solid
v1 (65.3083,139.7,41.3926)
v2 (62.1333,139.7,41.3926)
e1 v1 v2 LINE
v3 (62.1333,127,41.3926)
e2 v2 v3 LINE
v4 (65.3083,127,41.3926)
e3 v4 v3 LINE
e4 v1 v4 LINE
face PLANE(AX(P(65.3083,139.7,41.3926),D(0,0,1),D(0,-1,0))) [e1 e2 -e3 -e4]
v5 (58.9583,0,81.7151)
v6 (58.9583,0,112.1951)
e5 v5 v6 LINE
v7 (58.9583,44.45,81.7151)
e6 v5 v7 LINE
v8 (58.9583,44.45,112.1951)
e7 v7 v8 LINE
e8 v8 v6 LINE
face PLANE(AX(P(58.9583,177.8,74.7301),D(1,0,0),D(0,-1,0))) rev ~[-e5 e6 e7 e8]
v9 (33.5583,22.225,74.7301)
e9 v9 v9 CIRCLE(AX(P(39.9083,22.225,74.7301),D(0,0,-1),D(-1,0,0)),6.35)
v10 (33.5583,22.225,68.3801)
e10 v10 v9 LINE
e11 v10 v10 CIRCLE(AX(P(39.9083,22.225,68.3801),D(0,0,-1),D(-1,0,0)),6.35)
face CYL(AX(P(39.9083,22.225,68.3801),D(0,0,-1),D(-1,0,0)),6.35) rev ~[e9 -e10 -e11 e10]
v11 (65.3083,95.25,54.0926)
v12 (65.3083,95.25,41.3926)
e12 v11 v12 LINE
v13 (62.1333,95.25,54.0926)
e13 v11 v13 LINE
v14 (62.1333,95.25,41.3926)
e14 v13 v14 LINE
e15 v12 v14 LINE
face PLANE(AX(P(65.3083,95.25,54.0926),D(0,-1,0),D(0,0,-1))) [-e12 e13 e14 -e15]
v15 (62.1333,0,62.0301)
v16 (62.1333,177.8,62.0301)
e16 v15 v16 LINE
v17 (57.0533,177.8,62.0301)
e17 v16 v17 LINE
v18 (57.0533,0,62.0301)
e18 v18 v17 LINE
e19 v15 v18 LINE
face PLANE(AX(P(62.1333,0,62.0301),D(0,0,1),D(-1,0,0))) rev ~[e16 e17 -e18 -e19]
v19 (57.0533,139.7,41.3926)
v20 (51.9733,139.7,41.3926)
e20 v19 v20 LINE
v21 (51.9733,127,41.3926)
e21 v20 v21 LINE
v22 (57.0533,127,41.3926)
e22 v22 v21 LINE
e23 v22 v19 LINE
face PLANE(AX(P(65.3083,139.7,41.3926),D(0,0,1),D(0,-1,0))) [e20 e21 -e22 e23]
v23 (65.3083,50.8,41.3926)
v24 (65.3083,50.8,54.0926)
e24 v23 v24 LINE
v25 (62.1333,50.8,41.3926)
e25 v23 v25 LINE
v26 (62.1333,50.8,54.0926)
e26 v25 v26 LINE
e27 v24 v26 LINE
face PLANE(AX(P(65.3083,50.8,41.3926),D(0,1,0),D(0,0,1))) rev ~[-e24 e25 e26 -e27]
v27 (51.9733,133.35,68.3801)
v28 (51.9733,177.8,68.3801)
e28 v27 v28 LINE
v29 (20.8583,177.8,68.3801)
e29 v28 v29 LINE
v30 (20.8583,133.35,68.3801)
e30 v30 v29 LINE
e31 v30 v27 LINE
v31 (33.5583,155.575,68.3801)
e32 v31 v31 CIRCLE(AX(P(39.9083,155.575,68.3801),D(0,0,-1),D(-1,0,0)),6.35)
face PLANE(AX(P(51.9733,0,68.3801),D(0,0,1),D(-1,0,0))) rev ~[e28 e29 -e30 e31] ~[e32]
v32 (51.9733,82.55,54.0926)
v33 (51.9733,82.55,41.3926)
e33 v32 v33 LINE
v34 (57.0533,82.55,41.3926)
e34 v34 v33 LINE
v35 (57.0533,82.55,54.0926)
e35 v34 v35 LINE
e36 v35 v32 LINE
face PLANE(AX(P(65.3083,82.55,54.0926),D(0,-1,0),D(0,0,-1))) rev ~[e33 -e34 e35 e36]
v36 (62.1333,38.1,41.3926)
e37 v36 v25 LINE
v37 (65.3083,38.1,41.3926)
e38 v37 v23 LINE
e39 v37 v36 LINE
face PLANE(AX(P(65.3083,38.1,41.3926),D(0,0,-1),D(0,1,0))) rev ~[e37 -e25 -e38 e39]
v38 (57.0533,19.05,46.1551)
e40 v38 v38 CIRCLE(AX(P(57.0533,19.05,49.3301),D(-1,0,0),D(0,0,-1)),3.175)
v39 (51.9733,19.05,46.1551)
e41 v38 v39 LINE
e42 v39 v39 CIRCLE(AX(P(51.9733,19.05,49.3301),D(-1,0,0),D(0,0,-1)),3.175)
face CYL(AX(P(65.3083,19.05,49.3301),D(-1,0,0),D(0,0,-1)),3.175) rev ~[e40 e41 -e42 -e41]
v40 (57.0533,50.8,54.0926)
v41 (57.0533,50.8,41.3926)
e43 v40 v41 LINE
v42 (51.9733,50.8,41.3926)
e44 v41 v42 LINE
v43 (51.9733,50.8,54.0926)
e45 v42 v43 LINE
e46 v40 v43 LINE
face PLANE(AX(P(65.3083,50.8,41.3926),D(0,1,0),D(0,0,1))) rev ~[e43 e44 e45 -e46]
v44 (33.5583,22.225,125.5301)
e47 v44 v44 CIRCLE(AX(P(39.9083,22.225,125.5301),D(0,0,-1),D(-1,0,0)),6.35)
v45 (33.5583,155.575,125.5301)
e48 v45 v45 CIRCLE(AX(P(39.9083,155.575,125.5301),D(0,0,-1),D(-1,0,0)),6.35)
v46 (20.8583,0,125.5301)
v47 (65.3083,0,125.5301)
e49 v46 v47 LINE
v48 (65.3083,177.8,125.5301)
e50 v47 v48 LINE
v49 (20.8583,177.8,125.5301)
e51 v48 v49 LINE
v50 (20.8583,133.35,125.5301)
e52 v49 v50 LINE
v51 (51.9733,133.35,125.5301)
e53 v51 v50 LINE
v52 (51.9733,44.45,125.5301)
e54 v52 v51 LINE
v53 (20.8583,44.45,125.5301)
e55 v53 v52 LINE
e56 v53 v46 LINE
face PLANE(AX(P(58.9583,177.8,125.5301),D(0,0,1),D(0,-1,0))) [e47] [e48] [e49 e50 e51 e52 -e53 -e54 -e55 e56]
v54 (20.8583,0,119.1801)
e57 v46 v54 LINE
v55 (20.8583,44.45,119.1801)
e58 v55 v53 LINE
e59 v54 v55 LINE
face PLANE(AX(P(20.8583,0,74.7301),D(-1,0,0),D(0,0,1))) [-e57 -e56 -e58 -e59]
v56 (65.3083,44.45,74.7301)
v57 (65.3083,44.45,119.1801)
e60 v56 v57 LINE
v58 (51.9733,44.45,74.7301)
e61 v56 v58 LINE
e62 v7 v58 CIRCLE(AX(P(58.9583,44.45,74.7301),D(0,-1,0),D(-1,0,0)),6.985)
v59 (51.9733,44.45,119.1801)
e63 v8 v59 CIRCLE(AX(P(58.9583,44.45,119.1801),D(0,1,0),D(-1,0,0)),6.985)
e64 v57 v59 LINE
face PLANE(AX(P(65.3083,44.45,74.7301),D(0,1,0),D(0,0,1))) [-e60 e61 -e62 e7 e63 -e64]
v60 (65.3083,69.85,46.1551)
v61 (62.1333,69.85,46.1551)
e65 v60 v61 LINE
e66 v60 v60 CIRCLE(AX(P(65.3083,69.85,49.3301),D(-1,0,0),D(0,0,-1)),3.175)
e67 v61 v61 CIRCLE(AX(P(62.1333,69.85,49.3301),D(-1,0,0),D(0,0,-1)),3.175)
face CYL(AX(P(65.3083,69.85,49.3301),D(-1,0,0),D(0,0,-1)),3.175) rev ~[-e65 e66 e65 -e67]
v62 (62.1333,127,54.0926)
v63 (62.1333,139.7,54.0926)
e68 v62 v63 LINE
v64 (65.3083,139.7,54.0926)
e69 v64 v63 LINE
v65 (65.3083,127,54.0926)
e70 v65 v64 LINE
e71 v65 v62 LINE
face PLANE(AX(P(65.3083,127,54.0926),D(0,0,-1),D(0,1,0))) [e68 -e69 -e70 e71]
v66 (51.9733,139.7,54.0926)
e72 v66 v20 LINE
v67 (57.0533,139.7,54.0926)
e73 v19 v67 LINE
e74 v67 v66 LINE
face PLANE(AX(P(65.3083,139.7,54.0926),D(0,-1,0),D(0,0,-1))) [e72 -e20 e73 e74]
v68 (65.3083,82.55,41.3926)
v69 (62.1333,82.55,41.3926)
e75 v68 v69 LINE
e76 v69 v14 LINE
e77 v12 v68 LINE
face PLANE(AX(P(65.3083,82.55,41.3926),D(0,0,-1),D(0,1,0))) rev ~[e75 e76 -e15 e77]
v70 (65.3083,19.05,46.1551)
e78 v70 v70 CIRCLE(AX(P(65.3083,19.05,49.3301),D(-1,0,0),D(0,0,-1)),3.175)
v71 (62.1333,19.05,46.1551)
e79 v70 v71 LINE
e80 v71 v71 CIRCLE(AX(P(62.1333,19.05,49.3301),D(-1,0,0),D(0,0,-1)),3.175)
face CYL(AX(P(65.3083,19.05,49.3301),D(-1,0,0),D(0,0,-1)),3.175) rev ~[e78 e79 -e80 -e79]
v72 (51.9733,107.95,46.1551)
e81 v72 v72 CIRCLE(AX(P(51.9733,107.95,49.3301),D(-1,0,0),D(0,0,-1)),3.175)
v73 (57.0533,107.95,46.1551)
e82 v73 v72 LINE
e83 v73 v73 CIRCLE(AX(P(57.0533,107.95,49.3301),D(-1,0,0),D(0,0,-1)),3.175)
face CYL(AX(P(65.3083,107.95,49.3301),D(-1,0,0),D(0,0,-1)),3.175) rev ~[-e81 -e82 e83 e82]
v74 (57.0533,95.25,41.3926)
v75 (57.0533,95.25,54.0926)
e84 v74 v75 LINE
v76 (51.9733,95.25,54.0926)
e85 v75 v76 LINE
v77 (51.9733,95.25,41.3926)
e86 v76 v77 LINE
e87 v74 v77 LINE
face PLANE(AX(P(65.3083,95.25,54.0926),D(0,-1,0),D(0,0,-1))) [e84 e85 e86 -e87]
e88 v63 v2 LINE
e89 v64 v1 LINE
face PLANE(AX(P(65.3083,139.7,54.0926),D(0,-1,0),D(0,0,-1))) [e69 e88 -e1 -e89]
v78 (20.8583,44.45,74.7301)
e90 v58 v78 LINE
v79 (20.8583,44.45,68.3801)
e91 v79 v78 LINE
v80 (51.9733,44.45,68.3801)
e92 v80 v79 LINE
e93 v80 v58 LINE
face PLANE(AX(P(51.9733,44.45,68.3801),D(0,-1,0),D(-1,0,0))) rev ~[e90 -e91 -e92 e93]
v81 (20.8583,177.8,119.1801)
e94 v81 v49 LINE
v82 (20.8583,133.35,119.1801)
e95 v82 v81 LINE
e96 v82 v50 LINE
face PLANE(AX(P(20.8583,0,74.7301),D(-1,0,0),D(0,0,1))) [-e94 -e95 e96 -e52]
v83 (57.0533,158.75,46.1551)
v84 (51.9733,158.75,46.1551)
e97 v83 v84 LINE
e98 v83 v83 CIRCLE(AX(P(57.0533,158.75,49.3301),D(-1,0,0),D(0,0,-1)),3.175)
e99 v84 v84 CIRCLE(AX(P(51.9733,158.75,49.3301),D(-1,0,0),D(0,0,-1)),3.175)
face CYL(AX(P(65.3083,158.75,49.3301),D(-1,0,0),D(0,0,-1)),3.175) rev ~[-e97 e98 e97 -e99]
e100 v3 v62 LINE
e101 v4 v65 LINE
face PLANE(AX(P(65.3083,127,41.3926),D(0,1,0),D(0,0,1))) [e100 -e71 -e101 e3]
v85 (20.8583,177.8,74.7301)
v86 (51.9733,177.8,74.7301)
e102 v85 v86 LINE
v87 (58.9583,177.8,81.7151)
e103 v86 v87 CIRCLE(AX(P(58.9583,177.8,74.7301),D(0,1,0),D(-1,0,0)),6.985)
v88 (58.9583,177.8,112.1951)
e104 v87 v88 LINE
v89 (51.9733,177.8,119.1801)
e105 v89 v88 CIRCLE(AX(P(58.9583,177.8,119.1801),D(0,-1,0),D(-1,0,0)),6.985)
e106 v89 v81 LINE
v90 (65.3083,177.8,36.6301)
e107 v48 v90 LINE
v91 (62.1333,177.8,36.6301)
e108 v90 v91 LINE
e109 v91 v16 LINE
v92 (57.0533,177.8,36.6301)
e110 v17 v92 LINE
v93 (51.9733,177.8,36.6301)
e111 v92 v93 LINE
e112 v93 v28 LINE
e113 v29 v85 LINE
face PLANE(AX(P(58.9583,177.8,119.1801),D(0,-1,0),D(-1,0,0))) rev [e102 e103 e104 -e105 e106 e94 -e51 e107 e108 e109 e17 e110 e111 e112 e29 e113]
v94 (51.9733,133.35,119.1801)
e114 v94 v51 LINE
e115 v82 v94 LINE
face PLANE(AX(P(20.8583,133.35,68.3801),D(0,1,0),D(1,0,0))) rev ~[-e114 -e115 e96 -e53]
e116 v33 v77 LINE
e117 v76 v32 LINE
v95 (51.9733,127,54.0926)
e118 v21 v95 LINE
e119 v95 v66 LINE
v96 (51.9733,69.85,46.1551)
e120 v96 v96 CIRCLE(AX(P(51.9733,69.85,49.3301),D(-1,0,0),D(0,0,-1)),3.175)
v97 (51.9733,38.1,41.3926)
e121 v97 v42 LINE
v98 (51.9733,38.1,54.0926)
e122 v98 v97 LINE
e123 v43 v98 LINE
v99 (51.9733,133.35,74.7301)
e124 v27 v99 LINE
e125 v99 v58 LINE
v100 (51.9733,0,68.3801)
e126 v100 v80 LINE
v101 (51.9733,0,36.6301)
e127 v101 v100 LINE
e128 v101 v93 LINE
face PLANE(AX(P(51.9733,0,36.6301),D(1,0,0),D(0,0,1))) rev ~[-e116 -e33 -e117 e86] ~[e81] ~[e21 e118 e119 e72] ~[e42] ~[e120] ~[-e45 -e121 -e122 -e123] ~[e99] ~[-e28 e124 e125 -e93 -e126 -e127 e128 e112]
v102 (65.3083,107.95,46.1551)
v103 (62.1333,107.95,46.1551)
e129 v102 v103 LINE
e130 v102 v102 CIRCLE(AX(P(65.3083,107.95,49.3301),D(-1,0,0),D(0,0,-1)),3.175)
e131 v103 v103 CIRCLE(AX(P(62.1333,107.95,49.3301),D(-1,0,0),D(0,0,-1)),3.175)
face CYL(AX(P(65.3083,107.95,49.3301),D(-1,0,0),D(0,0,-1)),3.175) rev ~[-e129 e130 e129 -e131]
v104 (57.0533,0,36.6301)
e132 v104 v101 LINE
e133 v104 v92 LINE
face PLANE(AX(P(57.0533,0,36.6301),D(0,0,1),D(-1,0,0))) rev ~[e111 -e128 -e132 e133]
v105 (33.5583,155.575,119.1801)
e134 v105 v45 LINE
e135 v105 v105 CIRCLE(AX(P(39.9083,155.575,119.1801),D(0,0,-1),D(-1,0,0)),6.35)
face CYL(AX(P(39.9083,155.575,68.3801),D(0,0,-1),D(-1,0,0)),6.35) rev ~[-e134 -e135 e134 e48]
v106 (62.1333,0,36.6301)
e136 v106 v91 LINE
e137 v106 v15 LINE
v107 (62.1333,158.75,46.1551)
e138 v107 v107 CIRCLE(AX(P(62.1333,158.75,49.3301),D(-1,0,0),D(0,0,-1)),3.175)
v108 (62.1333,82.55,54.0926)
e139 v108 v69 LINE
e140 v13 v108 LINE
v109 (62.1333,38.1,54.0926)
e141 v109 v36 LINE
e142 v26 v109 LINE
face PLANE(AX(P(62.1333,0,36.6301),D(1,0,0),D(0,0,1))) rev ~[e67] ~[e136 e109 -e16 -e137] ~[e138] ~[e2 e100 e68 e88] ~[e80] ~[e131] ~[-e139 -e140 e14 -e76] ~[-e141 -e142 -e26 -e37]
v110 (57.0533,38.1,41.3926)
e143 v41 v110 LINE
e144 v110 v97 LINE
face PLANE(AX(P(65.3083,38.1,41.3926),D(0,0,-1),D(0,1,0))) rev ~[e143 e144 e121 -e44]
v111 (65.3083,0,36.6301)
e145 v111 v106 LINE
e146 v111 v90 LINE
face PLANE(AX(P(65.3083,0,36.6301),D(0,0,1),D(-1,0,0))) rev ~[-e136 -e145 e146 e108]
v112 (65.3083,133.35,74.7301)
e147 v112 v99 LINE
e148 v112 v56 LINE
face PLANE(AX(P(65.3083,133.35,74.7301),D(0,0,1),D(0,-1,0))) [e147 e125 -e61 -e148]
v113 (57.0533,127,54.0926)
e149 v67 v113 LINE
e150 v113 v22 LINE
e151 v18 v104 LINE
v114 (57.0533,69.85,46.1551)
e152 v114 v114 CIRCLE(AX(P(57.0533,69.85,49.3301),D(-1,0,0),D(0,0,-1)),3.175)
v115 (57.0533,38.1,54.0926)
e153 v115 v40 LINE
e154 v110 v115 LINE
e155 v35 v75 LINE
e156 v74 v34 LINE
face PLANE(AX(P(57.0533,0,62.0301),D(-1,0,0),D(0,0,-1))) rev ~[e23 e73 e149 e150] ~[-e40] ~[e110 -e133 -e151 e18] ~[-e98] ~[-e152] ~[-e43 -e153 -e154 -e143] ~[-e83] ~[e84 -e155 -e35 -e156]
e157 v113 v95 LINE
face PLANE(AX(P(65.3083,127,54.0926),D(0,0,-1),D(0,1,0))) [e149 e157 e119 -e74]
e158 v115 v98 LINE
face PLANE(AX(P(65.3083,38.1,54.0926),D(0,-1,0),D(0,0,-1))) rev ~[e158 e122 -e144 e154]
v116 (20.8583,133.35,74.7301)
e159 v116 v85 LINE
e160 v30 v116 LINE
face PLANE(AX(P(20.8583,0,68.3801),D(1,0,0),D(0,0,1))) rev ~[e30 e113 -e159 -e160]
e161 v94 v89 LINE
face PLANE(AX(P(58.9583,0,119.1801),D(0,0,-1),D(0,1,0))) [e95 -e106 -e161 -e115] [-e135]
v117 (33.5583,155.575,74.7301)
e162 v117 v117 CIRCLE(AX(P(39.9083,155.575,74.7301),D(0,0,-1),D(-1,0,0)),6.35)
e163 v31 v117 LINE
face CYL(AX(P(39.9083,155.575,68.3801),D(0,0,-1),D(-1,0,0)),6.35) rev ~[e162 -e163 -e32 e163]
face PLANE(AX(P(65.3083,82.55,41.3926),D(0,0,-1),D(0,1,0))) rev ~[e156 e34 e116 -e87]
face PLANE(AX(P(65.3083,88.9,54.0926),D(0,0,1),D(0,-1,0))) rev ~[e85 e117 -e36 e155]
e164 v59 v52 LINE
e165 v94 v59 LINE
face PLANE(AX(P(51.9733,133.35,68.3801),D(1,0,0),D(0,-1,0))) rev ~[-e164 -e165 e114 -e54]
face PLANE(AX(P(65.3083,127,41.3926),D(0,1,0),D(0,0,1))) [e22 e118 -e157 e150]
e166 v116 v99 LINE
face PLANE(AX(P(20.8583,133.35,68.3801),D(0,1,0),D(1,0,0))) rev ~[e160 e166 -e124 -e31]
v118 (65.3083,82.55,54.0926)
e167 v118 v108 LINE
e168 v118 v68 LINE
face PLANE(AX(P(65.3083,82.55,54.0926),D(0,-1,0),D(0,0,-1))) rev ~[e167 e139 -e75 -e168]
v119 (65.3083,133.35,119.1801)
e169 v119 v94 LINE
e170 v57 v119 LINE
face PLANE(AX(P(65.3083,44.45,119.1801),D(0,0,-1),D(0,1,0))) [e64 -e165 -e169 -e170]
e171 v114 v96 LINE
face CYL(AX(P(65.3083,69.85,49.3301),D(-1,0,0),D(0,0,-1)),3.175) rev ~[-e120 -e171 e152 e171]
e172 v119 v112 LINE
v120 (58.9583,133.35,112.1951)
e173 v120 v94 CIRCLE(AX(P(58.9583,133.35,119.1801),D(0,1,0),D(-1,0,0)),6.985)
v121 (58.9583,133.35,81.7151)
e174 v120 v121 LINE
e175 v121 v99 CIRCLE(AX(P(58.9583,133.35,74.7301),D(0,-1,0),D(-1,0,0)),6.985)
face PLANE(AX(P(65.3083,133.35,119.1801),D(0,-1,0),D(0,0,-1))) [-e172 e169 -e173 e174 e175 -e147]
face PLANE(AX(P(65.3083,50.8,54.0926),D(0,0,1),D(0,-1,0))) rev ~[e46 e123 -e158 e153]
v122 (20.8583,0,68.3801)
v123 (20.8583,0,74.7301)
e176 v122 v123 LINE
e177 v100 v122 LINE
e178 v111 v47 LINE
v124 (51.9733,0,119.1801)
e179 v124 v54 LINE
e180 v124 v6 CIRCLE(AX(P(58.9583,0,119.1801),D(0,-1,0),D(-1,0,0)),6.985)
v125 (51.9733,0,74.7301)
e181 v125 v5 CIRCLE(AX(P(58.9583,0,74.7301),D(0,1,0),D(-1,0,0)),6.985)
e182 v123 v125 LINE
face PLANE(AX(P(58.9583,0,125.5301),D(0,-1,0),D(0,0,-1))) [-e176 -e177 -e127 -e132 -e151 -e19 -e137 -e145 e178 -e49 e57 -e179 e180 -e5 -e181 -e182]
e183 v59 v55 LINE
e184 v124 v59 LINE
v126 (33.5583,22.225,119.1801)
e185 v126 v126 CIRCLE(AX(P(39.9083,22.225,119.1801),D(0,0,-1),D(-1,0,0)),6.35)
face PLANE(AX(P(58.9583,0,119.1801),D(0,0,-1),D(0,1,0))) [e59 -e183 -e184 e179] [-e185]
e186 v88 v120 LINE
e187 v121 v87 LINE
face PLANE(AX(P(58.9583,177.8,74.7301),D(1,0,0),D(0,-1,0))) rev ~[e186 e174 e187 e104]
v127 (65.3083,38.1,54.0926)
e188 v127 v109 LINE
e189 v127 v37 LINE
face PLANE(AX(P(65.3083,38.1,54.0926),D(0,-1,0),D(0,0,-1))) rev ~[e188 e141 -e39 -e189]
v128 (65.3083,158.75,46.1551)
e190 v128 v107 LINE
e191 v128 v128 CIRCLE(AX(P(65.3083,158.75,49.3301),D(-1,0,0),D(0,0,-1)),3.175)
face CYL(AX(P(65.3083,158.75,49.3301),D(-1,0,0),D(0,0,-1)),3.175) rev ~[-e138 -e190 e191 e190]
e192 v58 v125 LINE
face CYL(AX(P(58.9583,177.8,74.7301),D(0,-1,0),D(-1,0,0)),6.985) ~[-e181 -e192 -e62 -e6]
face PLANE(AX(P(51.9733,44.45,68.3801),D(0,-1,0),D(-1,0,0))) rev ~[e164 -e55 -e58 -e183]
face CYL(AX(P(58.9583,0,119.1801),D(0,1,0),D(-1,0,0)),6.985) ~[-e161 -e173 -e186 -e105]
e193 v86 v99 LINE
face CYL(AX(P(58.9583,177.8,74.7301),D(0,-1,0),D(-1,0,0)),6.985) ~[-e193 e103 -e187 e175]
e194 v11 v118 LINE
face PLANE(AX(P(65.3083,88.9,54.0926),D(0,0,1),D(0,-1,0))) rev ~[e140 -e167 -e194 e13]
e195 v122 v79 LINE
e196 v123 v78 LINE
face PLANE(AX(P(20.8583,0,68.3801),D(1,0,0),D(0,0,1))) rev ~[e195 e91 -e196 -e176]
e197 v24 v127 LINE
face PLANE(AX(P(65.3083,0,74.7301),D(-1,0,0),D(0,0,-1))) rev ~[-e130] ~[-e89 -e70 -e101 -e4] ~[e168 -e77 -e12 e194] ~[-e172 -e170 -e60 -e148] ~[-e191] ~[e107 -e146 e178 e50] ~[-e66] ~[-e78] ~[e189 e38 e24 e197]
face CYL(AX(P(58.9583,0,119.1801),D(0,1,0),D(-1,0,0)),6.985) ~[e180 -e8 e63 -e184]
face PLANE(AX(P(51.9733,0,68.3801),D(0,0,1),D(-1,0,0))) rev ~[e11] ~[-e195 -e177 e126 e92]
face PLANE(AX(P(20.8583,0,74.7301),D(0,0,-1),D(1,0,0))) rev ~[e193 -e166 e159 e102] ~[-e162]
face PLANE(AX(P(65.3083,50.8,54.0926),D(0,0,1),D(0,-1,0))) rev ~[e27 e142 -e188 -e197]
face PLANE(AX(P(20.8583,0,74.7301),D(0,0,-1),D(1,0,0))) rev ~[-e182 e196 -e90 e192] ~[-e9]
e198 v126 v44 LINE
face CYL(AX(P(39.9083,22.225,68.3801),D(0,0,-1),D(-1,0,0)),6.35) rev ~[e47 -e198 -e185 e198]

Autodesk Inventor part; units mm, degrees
ref_plane "YZ Plane" through (0, 0, 0) normal (1, 0, 0) x (0, 1, 0)
ref_plane "XZ Plane" through (0, 0, 0) normal (0, 1, 0) x (-1, 0, 0)
ref_plane "XY Plane" through (0, 0, 0) normal (0, 0, 1) x (1, 0, 0)
sketch "Sketch1" plane through (0, 0, 0) normal (0, 1, 0) x (-1, 0, 0)
  line L0 (-51.9733, 36.6301) -> (-51.9733, 68.3801)
  line L1 (-65.3083, 74.7301) -> (-65.3083, 36.6301)
  line L2 (-65.3083, 36.6301) -> (-62.1333, 36.6301)
  line L3 (-62.1333, 36.6301) -> (-62.1333, 62.0301)
  line L4 (-62.1333, 62.0301) -> (-57.0533, 62.0301)
  line L5 (-57.0533, 62.0301) -> (-57.0533, 36.6301)
  line L6 (-57.0533, 36.6301) -> (-51.9733, 36.6301)
  line L7 (-51.9733, 68.3801) -> (-20.8583, 68.3801)
  line L8 (-20.8583, 68.3801) -> (-20.8583, 74.7301)
  line L9 (-20.8583, 74.7301) -> (-65.3083, 74.7301)
  dimension "d2" = 5.08
  dimension "d4" = 25.4
  dimension "d18" = 6.35
  dimension "d19" = 38.1
  dimension "d20" = 3.175
  dimension "d79" = 5.08
  dimension "d80" = 44.45
extrude "Extrusion1" add sketch "Sketch1" along normal blind 177.8
ref_plane "Work Plane2" through (65.3083, -38.1, 36.6301) normal (1, 0, 0) x (0, 0, -1)
sketch "Sketch13" plane through (20.8583, 0, 74.7301) normal (0, 0, 1) x (1, 0, 0)
  line L0 (38.1, 0) -> (44.45, 0)
  line L1 (44.45, 0) -> (44.45, 177.8)
  line L2 (44.45, 177.8) -> (38.1, 177.8)
  line L3 (38.1, 177.8) -> (38.1, 0)
  line L4 (44.45, 0) -> (44.45, 177.8) projected
  line L5 (0, 177.8) -> (44.45, 177.8) projected
  line L6 (0, 0) -> (44.45, 0) projected
  point P0 (-20.8583, 0)
  point P1 (36.195, 177.8)
  point P2 (41.275, 177.8)
  point P3 (36.195, 0)
  point P4 (41.275, 0)
  point P5 (31.115, 0)
  dimension "d81" = 6.35
extrude "Extrusion2" add sketch "Sketch13" along normal blind 50.8
sketch "Sketch21" plane through (58.9583, 0, 74.7301) normal (-1, 0, 0) x (0, 0, 1)
  line L0 (50.8, 177.8) -> (50.8, 0) projected
  line L1 (50.8, 0) -> (44.45, 0)
  line L2 (44.45, 0) -> (44.45, 177.8)
  line L3 (44.45, 177.8) -> (50.8, 177.8)
  line L4 (50.8, 177.8) -> (50.8, 0)
  line L5 (0, 177.8) -> (50.8, 177.8) projected
  point P0 (-74.7301, 0)
  dimension "d91" = 6.35
extrude "Extrusion10" add sketch "Sketch21" along normal blind 38.1
sketch "Sketch22" plane through (51.9733, 0, 68.3801) normal (0, 0, -1) x (-1, 0, 0)
  line L0 (31.115, 0) -> (31.115, 177.8) projected
  line L1 (0, 44.45) -> (31.115, 44.45)
  line L2 (31.115, 44.45) -> (31.115, 133.35)
  line L3 (31.115, 133.35) -> (0, 133.35)
  line L4 (0, 133.35) -> (0, 44.45)
  line L5 (0, 0) -> (31.115, 0) projected
  line L6 (0, 177.8) -> (31.115, 177.8) projected
  line L7 (0, 0) -> (0, 177.8) projected
  point P0 (51.9733, 0)
  dimension "d94" = 44.45
  dimension "d95" = 44.45
extrude "Extrusion11" cut sketch "Sketch22" against normal blind 76.2 contours L1 L4 L3 L0
sketch "Sketch23" plane through (20.8583, 0, 74.7301) normal (0, 0, 1) x (1, 0, 0)
  line L0 (0, 177.8) -> (38.1, 177.8) projected
  line L1 (38.1, 177.8) -> (31.115, 177.8)
  line L2 (31.115, 177.8) -> (31.115, 0)
  line L3 (31.115, 0) -> (38.1, 0)
  line L4 (38.1, 0) -> (38.1, 177.8)
  line L5 (31.115, 133.35) -> (31.115, 44.45) projected
  line L6 (38.1, 0) -> (38.1, 177.8) projected
  line L7 (0, 0) -> (38.1, 0) projected
  point P0 (-20.8583, 0)
revolve "Revolution8" add sketch "Sketch23" angle 90 about axis through (58.9583, 0, 74.7301) along (0, 1, 0)
sketch "Sketch24" plane through (58.9583, 0, 119.1801) normal (0, 0, -1) x (-1, 0, 0)
  line L0 (0, 0) -> (0, 177.8) projected
  line L1 (0, 177.8) -> (38.1, 177.8) projected
  line L2 (0, 0) -> (6.985, 0)
  line L3 (6.985, 0) -> (6.985, 177.8)
  line L4 (6.985, 177.8) -> (0, 177.8)
  line L5 (0, 177.8) -> (0, 0)
  line L6 (6.985, 44.45) -> (6.985, 133.35) projected
  point P0 (58.9583, 0)
revolve "Revolution9" add sketch "Sketch24" angle 90 about axis through (58.9583, 177.8, 119.1801) along (0, -1, 0)
sketch "Sketch25" plane through (65.3083, 0, 36.6301) normal (1, 0, 0) x (0, 0, -1)
  line L0 (-38.1, 44.45) -> (-82.55, 44.45)
  line L1 (-82.55, 44.45) -> (-82.55, 133.35)
  line L2 (-82.55, 133.35) -> (-38.1, 133.35)
  line L3 (-38.1, 133.35) -> (-38.1, 44.45)
  line L4 (-88.9, 0) -> (-88.9, 177.8) projected
  line L5 (-38.1, 133.35) -> (-38.1, 44.45) projected
  line L6 (0, 0) -> (-88.9, 0) projected
  line L7 (0, 177.8) -> (-88.9, 177.8) projected
  line L8 (-82.55, 44.45) -> (-82.55, 0) projected
  point P0 (36.6301, 0)
  dimension "d100" = 44.45
  dimension "d101" = 44.45
extrude "Extrusion12" cut sketch "Sketch25" against normal blind 76.2
sketch "Sketch26" plane through (65.3083, 0, 36.6301) normal (1, 0, 0) x (0, 0, -1)
  line L0 (0, 177.8) -> (0, 0)
  line L1 (0, 88.9) -> (-55.1771, 88.9)
  line L2 (0, 0) -> (0, 177.8) projected
  line L3 (0, 177.8) -> (-88.9, 177.8) projected
  line L4 (0, 0) -> (-88.9, 0) projected
  line L5 (-25.4, 0) -> (-25.4, 177.8) projected
  point P0 (36.6301, 0)
  point P1 (-12.7, 158.75)
  point P2 (-12.7, 107.95)
  point P3 (-12.7, 69.85)
  point P4 (-12.7, 19.05)
  dimension "d104" = 19.05
  dimension "d105" = 19.05
  dimension "d106" = 69.85
  dimension "d107" = 69.85
  dimension "d108" = 12.7
  dimension "d109" = 12.7
  dimension "d110" = 12.7
  dimension "d111" = 12.7
hole "Hole4" at (65.3083, 19.05, 49.3301) at (65.3083, 69.85, 49.3301) at (65.3083, 107.95, 49.3301) at (65.3083, 158.75, 49.3301) direction (-1, 0, 0) diameter 6.35 end through all
sketch "Sketch27" plane through (65.3083, 0, 36.6301) normal (1, 0, 0) x (0, 0, -1)
  line L0 (0, 0) -> (0, 177.8) projected
  line L1 (0, 88.9) -> (-38.1, 88.9)
  line L2 (-38.1, 133.35) -> (-38.1, 44.45) projected
  line L3 (-17.4625, 88.9) -> (-17.4625, 82.55)
  line L4 (-17.4625, 82.55) -> (-4.7625, 82.55)
  line L5 (-4.7625, 82.55) -> (-4.7625, 88.9)
  line L6 (-17.4625, 38.1) -> (-4.7625, 38.1)
  line L7 (-4.7625, 38.1) -> (-4.7625, 50.8)
  line L8 (-4.7625, 50.8) -> (-17.4625, 50.8)
  line L9 (-17.4625, 50.8) -> (-17.4625, 38.1)
  line L10 (-17.4625, 88.9) -> (-17.4625, 95.25)
  line L11 (-17.4625, 95.25) -> (-4.7625, 95.25)
  line L12 (-4.7625, 95.25) -> (-4.7625, 88.9)
  line L13 (-17.4625, 139.7) -> (-4.7625, 139.7)
  line L14 (-4.7625, 139.7) -> (-4.7625, 127)
  line L15 (-4.7625, 127) -> (-17.4625, 127)
  line L16 (-17.4625, 127) -> (-17.4625, 139.7)
  point P0 (36.6301, 0)
  dimension "d119" = 12.7
  dimension "d120" = 6.35
  dimension "d121" = 31.75
  dimension "d122" = 12.7
  dimension "d123" = 12.7
extrude "Extrusion13" cut sketch "Sketch27" against normal blind 25.4
sketch "Sketch28" plane through (51.9733, 0, 68.3801) normal (0, 0, -1) x (-1, 0, 0)
  circle A0 centre (12.065, 22.225) radius 6.35
  line L0 (31.115, 0) -> (31.115, 44.45) projected
  line L1 (31.115, 44.45) -> (0, 44.45) projected
  circle A1 centre (12.065, 155.575) radius 6.35
  line L2 (31.115, 133.35) -> (31.115, 177.8) projected
  line L3 (0, 133.35) -> (31.115, 133.35) projected
  point P0 (51.9733, 0)
  dimension "d126" = 12.7
  dimension "d127" = 19.05
  dimension "d128" = 22.225
  dimension "d129" = 12.7
  dimension "d130" = 19.05
  dimension "d131" = 22.225
extrude "Extrusion14" cut sketch "Sketch28" against normal through all
properties part number "Suspension mount 2.0" material "Acetal Resin, Black"
